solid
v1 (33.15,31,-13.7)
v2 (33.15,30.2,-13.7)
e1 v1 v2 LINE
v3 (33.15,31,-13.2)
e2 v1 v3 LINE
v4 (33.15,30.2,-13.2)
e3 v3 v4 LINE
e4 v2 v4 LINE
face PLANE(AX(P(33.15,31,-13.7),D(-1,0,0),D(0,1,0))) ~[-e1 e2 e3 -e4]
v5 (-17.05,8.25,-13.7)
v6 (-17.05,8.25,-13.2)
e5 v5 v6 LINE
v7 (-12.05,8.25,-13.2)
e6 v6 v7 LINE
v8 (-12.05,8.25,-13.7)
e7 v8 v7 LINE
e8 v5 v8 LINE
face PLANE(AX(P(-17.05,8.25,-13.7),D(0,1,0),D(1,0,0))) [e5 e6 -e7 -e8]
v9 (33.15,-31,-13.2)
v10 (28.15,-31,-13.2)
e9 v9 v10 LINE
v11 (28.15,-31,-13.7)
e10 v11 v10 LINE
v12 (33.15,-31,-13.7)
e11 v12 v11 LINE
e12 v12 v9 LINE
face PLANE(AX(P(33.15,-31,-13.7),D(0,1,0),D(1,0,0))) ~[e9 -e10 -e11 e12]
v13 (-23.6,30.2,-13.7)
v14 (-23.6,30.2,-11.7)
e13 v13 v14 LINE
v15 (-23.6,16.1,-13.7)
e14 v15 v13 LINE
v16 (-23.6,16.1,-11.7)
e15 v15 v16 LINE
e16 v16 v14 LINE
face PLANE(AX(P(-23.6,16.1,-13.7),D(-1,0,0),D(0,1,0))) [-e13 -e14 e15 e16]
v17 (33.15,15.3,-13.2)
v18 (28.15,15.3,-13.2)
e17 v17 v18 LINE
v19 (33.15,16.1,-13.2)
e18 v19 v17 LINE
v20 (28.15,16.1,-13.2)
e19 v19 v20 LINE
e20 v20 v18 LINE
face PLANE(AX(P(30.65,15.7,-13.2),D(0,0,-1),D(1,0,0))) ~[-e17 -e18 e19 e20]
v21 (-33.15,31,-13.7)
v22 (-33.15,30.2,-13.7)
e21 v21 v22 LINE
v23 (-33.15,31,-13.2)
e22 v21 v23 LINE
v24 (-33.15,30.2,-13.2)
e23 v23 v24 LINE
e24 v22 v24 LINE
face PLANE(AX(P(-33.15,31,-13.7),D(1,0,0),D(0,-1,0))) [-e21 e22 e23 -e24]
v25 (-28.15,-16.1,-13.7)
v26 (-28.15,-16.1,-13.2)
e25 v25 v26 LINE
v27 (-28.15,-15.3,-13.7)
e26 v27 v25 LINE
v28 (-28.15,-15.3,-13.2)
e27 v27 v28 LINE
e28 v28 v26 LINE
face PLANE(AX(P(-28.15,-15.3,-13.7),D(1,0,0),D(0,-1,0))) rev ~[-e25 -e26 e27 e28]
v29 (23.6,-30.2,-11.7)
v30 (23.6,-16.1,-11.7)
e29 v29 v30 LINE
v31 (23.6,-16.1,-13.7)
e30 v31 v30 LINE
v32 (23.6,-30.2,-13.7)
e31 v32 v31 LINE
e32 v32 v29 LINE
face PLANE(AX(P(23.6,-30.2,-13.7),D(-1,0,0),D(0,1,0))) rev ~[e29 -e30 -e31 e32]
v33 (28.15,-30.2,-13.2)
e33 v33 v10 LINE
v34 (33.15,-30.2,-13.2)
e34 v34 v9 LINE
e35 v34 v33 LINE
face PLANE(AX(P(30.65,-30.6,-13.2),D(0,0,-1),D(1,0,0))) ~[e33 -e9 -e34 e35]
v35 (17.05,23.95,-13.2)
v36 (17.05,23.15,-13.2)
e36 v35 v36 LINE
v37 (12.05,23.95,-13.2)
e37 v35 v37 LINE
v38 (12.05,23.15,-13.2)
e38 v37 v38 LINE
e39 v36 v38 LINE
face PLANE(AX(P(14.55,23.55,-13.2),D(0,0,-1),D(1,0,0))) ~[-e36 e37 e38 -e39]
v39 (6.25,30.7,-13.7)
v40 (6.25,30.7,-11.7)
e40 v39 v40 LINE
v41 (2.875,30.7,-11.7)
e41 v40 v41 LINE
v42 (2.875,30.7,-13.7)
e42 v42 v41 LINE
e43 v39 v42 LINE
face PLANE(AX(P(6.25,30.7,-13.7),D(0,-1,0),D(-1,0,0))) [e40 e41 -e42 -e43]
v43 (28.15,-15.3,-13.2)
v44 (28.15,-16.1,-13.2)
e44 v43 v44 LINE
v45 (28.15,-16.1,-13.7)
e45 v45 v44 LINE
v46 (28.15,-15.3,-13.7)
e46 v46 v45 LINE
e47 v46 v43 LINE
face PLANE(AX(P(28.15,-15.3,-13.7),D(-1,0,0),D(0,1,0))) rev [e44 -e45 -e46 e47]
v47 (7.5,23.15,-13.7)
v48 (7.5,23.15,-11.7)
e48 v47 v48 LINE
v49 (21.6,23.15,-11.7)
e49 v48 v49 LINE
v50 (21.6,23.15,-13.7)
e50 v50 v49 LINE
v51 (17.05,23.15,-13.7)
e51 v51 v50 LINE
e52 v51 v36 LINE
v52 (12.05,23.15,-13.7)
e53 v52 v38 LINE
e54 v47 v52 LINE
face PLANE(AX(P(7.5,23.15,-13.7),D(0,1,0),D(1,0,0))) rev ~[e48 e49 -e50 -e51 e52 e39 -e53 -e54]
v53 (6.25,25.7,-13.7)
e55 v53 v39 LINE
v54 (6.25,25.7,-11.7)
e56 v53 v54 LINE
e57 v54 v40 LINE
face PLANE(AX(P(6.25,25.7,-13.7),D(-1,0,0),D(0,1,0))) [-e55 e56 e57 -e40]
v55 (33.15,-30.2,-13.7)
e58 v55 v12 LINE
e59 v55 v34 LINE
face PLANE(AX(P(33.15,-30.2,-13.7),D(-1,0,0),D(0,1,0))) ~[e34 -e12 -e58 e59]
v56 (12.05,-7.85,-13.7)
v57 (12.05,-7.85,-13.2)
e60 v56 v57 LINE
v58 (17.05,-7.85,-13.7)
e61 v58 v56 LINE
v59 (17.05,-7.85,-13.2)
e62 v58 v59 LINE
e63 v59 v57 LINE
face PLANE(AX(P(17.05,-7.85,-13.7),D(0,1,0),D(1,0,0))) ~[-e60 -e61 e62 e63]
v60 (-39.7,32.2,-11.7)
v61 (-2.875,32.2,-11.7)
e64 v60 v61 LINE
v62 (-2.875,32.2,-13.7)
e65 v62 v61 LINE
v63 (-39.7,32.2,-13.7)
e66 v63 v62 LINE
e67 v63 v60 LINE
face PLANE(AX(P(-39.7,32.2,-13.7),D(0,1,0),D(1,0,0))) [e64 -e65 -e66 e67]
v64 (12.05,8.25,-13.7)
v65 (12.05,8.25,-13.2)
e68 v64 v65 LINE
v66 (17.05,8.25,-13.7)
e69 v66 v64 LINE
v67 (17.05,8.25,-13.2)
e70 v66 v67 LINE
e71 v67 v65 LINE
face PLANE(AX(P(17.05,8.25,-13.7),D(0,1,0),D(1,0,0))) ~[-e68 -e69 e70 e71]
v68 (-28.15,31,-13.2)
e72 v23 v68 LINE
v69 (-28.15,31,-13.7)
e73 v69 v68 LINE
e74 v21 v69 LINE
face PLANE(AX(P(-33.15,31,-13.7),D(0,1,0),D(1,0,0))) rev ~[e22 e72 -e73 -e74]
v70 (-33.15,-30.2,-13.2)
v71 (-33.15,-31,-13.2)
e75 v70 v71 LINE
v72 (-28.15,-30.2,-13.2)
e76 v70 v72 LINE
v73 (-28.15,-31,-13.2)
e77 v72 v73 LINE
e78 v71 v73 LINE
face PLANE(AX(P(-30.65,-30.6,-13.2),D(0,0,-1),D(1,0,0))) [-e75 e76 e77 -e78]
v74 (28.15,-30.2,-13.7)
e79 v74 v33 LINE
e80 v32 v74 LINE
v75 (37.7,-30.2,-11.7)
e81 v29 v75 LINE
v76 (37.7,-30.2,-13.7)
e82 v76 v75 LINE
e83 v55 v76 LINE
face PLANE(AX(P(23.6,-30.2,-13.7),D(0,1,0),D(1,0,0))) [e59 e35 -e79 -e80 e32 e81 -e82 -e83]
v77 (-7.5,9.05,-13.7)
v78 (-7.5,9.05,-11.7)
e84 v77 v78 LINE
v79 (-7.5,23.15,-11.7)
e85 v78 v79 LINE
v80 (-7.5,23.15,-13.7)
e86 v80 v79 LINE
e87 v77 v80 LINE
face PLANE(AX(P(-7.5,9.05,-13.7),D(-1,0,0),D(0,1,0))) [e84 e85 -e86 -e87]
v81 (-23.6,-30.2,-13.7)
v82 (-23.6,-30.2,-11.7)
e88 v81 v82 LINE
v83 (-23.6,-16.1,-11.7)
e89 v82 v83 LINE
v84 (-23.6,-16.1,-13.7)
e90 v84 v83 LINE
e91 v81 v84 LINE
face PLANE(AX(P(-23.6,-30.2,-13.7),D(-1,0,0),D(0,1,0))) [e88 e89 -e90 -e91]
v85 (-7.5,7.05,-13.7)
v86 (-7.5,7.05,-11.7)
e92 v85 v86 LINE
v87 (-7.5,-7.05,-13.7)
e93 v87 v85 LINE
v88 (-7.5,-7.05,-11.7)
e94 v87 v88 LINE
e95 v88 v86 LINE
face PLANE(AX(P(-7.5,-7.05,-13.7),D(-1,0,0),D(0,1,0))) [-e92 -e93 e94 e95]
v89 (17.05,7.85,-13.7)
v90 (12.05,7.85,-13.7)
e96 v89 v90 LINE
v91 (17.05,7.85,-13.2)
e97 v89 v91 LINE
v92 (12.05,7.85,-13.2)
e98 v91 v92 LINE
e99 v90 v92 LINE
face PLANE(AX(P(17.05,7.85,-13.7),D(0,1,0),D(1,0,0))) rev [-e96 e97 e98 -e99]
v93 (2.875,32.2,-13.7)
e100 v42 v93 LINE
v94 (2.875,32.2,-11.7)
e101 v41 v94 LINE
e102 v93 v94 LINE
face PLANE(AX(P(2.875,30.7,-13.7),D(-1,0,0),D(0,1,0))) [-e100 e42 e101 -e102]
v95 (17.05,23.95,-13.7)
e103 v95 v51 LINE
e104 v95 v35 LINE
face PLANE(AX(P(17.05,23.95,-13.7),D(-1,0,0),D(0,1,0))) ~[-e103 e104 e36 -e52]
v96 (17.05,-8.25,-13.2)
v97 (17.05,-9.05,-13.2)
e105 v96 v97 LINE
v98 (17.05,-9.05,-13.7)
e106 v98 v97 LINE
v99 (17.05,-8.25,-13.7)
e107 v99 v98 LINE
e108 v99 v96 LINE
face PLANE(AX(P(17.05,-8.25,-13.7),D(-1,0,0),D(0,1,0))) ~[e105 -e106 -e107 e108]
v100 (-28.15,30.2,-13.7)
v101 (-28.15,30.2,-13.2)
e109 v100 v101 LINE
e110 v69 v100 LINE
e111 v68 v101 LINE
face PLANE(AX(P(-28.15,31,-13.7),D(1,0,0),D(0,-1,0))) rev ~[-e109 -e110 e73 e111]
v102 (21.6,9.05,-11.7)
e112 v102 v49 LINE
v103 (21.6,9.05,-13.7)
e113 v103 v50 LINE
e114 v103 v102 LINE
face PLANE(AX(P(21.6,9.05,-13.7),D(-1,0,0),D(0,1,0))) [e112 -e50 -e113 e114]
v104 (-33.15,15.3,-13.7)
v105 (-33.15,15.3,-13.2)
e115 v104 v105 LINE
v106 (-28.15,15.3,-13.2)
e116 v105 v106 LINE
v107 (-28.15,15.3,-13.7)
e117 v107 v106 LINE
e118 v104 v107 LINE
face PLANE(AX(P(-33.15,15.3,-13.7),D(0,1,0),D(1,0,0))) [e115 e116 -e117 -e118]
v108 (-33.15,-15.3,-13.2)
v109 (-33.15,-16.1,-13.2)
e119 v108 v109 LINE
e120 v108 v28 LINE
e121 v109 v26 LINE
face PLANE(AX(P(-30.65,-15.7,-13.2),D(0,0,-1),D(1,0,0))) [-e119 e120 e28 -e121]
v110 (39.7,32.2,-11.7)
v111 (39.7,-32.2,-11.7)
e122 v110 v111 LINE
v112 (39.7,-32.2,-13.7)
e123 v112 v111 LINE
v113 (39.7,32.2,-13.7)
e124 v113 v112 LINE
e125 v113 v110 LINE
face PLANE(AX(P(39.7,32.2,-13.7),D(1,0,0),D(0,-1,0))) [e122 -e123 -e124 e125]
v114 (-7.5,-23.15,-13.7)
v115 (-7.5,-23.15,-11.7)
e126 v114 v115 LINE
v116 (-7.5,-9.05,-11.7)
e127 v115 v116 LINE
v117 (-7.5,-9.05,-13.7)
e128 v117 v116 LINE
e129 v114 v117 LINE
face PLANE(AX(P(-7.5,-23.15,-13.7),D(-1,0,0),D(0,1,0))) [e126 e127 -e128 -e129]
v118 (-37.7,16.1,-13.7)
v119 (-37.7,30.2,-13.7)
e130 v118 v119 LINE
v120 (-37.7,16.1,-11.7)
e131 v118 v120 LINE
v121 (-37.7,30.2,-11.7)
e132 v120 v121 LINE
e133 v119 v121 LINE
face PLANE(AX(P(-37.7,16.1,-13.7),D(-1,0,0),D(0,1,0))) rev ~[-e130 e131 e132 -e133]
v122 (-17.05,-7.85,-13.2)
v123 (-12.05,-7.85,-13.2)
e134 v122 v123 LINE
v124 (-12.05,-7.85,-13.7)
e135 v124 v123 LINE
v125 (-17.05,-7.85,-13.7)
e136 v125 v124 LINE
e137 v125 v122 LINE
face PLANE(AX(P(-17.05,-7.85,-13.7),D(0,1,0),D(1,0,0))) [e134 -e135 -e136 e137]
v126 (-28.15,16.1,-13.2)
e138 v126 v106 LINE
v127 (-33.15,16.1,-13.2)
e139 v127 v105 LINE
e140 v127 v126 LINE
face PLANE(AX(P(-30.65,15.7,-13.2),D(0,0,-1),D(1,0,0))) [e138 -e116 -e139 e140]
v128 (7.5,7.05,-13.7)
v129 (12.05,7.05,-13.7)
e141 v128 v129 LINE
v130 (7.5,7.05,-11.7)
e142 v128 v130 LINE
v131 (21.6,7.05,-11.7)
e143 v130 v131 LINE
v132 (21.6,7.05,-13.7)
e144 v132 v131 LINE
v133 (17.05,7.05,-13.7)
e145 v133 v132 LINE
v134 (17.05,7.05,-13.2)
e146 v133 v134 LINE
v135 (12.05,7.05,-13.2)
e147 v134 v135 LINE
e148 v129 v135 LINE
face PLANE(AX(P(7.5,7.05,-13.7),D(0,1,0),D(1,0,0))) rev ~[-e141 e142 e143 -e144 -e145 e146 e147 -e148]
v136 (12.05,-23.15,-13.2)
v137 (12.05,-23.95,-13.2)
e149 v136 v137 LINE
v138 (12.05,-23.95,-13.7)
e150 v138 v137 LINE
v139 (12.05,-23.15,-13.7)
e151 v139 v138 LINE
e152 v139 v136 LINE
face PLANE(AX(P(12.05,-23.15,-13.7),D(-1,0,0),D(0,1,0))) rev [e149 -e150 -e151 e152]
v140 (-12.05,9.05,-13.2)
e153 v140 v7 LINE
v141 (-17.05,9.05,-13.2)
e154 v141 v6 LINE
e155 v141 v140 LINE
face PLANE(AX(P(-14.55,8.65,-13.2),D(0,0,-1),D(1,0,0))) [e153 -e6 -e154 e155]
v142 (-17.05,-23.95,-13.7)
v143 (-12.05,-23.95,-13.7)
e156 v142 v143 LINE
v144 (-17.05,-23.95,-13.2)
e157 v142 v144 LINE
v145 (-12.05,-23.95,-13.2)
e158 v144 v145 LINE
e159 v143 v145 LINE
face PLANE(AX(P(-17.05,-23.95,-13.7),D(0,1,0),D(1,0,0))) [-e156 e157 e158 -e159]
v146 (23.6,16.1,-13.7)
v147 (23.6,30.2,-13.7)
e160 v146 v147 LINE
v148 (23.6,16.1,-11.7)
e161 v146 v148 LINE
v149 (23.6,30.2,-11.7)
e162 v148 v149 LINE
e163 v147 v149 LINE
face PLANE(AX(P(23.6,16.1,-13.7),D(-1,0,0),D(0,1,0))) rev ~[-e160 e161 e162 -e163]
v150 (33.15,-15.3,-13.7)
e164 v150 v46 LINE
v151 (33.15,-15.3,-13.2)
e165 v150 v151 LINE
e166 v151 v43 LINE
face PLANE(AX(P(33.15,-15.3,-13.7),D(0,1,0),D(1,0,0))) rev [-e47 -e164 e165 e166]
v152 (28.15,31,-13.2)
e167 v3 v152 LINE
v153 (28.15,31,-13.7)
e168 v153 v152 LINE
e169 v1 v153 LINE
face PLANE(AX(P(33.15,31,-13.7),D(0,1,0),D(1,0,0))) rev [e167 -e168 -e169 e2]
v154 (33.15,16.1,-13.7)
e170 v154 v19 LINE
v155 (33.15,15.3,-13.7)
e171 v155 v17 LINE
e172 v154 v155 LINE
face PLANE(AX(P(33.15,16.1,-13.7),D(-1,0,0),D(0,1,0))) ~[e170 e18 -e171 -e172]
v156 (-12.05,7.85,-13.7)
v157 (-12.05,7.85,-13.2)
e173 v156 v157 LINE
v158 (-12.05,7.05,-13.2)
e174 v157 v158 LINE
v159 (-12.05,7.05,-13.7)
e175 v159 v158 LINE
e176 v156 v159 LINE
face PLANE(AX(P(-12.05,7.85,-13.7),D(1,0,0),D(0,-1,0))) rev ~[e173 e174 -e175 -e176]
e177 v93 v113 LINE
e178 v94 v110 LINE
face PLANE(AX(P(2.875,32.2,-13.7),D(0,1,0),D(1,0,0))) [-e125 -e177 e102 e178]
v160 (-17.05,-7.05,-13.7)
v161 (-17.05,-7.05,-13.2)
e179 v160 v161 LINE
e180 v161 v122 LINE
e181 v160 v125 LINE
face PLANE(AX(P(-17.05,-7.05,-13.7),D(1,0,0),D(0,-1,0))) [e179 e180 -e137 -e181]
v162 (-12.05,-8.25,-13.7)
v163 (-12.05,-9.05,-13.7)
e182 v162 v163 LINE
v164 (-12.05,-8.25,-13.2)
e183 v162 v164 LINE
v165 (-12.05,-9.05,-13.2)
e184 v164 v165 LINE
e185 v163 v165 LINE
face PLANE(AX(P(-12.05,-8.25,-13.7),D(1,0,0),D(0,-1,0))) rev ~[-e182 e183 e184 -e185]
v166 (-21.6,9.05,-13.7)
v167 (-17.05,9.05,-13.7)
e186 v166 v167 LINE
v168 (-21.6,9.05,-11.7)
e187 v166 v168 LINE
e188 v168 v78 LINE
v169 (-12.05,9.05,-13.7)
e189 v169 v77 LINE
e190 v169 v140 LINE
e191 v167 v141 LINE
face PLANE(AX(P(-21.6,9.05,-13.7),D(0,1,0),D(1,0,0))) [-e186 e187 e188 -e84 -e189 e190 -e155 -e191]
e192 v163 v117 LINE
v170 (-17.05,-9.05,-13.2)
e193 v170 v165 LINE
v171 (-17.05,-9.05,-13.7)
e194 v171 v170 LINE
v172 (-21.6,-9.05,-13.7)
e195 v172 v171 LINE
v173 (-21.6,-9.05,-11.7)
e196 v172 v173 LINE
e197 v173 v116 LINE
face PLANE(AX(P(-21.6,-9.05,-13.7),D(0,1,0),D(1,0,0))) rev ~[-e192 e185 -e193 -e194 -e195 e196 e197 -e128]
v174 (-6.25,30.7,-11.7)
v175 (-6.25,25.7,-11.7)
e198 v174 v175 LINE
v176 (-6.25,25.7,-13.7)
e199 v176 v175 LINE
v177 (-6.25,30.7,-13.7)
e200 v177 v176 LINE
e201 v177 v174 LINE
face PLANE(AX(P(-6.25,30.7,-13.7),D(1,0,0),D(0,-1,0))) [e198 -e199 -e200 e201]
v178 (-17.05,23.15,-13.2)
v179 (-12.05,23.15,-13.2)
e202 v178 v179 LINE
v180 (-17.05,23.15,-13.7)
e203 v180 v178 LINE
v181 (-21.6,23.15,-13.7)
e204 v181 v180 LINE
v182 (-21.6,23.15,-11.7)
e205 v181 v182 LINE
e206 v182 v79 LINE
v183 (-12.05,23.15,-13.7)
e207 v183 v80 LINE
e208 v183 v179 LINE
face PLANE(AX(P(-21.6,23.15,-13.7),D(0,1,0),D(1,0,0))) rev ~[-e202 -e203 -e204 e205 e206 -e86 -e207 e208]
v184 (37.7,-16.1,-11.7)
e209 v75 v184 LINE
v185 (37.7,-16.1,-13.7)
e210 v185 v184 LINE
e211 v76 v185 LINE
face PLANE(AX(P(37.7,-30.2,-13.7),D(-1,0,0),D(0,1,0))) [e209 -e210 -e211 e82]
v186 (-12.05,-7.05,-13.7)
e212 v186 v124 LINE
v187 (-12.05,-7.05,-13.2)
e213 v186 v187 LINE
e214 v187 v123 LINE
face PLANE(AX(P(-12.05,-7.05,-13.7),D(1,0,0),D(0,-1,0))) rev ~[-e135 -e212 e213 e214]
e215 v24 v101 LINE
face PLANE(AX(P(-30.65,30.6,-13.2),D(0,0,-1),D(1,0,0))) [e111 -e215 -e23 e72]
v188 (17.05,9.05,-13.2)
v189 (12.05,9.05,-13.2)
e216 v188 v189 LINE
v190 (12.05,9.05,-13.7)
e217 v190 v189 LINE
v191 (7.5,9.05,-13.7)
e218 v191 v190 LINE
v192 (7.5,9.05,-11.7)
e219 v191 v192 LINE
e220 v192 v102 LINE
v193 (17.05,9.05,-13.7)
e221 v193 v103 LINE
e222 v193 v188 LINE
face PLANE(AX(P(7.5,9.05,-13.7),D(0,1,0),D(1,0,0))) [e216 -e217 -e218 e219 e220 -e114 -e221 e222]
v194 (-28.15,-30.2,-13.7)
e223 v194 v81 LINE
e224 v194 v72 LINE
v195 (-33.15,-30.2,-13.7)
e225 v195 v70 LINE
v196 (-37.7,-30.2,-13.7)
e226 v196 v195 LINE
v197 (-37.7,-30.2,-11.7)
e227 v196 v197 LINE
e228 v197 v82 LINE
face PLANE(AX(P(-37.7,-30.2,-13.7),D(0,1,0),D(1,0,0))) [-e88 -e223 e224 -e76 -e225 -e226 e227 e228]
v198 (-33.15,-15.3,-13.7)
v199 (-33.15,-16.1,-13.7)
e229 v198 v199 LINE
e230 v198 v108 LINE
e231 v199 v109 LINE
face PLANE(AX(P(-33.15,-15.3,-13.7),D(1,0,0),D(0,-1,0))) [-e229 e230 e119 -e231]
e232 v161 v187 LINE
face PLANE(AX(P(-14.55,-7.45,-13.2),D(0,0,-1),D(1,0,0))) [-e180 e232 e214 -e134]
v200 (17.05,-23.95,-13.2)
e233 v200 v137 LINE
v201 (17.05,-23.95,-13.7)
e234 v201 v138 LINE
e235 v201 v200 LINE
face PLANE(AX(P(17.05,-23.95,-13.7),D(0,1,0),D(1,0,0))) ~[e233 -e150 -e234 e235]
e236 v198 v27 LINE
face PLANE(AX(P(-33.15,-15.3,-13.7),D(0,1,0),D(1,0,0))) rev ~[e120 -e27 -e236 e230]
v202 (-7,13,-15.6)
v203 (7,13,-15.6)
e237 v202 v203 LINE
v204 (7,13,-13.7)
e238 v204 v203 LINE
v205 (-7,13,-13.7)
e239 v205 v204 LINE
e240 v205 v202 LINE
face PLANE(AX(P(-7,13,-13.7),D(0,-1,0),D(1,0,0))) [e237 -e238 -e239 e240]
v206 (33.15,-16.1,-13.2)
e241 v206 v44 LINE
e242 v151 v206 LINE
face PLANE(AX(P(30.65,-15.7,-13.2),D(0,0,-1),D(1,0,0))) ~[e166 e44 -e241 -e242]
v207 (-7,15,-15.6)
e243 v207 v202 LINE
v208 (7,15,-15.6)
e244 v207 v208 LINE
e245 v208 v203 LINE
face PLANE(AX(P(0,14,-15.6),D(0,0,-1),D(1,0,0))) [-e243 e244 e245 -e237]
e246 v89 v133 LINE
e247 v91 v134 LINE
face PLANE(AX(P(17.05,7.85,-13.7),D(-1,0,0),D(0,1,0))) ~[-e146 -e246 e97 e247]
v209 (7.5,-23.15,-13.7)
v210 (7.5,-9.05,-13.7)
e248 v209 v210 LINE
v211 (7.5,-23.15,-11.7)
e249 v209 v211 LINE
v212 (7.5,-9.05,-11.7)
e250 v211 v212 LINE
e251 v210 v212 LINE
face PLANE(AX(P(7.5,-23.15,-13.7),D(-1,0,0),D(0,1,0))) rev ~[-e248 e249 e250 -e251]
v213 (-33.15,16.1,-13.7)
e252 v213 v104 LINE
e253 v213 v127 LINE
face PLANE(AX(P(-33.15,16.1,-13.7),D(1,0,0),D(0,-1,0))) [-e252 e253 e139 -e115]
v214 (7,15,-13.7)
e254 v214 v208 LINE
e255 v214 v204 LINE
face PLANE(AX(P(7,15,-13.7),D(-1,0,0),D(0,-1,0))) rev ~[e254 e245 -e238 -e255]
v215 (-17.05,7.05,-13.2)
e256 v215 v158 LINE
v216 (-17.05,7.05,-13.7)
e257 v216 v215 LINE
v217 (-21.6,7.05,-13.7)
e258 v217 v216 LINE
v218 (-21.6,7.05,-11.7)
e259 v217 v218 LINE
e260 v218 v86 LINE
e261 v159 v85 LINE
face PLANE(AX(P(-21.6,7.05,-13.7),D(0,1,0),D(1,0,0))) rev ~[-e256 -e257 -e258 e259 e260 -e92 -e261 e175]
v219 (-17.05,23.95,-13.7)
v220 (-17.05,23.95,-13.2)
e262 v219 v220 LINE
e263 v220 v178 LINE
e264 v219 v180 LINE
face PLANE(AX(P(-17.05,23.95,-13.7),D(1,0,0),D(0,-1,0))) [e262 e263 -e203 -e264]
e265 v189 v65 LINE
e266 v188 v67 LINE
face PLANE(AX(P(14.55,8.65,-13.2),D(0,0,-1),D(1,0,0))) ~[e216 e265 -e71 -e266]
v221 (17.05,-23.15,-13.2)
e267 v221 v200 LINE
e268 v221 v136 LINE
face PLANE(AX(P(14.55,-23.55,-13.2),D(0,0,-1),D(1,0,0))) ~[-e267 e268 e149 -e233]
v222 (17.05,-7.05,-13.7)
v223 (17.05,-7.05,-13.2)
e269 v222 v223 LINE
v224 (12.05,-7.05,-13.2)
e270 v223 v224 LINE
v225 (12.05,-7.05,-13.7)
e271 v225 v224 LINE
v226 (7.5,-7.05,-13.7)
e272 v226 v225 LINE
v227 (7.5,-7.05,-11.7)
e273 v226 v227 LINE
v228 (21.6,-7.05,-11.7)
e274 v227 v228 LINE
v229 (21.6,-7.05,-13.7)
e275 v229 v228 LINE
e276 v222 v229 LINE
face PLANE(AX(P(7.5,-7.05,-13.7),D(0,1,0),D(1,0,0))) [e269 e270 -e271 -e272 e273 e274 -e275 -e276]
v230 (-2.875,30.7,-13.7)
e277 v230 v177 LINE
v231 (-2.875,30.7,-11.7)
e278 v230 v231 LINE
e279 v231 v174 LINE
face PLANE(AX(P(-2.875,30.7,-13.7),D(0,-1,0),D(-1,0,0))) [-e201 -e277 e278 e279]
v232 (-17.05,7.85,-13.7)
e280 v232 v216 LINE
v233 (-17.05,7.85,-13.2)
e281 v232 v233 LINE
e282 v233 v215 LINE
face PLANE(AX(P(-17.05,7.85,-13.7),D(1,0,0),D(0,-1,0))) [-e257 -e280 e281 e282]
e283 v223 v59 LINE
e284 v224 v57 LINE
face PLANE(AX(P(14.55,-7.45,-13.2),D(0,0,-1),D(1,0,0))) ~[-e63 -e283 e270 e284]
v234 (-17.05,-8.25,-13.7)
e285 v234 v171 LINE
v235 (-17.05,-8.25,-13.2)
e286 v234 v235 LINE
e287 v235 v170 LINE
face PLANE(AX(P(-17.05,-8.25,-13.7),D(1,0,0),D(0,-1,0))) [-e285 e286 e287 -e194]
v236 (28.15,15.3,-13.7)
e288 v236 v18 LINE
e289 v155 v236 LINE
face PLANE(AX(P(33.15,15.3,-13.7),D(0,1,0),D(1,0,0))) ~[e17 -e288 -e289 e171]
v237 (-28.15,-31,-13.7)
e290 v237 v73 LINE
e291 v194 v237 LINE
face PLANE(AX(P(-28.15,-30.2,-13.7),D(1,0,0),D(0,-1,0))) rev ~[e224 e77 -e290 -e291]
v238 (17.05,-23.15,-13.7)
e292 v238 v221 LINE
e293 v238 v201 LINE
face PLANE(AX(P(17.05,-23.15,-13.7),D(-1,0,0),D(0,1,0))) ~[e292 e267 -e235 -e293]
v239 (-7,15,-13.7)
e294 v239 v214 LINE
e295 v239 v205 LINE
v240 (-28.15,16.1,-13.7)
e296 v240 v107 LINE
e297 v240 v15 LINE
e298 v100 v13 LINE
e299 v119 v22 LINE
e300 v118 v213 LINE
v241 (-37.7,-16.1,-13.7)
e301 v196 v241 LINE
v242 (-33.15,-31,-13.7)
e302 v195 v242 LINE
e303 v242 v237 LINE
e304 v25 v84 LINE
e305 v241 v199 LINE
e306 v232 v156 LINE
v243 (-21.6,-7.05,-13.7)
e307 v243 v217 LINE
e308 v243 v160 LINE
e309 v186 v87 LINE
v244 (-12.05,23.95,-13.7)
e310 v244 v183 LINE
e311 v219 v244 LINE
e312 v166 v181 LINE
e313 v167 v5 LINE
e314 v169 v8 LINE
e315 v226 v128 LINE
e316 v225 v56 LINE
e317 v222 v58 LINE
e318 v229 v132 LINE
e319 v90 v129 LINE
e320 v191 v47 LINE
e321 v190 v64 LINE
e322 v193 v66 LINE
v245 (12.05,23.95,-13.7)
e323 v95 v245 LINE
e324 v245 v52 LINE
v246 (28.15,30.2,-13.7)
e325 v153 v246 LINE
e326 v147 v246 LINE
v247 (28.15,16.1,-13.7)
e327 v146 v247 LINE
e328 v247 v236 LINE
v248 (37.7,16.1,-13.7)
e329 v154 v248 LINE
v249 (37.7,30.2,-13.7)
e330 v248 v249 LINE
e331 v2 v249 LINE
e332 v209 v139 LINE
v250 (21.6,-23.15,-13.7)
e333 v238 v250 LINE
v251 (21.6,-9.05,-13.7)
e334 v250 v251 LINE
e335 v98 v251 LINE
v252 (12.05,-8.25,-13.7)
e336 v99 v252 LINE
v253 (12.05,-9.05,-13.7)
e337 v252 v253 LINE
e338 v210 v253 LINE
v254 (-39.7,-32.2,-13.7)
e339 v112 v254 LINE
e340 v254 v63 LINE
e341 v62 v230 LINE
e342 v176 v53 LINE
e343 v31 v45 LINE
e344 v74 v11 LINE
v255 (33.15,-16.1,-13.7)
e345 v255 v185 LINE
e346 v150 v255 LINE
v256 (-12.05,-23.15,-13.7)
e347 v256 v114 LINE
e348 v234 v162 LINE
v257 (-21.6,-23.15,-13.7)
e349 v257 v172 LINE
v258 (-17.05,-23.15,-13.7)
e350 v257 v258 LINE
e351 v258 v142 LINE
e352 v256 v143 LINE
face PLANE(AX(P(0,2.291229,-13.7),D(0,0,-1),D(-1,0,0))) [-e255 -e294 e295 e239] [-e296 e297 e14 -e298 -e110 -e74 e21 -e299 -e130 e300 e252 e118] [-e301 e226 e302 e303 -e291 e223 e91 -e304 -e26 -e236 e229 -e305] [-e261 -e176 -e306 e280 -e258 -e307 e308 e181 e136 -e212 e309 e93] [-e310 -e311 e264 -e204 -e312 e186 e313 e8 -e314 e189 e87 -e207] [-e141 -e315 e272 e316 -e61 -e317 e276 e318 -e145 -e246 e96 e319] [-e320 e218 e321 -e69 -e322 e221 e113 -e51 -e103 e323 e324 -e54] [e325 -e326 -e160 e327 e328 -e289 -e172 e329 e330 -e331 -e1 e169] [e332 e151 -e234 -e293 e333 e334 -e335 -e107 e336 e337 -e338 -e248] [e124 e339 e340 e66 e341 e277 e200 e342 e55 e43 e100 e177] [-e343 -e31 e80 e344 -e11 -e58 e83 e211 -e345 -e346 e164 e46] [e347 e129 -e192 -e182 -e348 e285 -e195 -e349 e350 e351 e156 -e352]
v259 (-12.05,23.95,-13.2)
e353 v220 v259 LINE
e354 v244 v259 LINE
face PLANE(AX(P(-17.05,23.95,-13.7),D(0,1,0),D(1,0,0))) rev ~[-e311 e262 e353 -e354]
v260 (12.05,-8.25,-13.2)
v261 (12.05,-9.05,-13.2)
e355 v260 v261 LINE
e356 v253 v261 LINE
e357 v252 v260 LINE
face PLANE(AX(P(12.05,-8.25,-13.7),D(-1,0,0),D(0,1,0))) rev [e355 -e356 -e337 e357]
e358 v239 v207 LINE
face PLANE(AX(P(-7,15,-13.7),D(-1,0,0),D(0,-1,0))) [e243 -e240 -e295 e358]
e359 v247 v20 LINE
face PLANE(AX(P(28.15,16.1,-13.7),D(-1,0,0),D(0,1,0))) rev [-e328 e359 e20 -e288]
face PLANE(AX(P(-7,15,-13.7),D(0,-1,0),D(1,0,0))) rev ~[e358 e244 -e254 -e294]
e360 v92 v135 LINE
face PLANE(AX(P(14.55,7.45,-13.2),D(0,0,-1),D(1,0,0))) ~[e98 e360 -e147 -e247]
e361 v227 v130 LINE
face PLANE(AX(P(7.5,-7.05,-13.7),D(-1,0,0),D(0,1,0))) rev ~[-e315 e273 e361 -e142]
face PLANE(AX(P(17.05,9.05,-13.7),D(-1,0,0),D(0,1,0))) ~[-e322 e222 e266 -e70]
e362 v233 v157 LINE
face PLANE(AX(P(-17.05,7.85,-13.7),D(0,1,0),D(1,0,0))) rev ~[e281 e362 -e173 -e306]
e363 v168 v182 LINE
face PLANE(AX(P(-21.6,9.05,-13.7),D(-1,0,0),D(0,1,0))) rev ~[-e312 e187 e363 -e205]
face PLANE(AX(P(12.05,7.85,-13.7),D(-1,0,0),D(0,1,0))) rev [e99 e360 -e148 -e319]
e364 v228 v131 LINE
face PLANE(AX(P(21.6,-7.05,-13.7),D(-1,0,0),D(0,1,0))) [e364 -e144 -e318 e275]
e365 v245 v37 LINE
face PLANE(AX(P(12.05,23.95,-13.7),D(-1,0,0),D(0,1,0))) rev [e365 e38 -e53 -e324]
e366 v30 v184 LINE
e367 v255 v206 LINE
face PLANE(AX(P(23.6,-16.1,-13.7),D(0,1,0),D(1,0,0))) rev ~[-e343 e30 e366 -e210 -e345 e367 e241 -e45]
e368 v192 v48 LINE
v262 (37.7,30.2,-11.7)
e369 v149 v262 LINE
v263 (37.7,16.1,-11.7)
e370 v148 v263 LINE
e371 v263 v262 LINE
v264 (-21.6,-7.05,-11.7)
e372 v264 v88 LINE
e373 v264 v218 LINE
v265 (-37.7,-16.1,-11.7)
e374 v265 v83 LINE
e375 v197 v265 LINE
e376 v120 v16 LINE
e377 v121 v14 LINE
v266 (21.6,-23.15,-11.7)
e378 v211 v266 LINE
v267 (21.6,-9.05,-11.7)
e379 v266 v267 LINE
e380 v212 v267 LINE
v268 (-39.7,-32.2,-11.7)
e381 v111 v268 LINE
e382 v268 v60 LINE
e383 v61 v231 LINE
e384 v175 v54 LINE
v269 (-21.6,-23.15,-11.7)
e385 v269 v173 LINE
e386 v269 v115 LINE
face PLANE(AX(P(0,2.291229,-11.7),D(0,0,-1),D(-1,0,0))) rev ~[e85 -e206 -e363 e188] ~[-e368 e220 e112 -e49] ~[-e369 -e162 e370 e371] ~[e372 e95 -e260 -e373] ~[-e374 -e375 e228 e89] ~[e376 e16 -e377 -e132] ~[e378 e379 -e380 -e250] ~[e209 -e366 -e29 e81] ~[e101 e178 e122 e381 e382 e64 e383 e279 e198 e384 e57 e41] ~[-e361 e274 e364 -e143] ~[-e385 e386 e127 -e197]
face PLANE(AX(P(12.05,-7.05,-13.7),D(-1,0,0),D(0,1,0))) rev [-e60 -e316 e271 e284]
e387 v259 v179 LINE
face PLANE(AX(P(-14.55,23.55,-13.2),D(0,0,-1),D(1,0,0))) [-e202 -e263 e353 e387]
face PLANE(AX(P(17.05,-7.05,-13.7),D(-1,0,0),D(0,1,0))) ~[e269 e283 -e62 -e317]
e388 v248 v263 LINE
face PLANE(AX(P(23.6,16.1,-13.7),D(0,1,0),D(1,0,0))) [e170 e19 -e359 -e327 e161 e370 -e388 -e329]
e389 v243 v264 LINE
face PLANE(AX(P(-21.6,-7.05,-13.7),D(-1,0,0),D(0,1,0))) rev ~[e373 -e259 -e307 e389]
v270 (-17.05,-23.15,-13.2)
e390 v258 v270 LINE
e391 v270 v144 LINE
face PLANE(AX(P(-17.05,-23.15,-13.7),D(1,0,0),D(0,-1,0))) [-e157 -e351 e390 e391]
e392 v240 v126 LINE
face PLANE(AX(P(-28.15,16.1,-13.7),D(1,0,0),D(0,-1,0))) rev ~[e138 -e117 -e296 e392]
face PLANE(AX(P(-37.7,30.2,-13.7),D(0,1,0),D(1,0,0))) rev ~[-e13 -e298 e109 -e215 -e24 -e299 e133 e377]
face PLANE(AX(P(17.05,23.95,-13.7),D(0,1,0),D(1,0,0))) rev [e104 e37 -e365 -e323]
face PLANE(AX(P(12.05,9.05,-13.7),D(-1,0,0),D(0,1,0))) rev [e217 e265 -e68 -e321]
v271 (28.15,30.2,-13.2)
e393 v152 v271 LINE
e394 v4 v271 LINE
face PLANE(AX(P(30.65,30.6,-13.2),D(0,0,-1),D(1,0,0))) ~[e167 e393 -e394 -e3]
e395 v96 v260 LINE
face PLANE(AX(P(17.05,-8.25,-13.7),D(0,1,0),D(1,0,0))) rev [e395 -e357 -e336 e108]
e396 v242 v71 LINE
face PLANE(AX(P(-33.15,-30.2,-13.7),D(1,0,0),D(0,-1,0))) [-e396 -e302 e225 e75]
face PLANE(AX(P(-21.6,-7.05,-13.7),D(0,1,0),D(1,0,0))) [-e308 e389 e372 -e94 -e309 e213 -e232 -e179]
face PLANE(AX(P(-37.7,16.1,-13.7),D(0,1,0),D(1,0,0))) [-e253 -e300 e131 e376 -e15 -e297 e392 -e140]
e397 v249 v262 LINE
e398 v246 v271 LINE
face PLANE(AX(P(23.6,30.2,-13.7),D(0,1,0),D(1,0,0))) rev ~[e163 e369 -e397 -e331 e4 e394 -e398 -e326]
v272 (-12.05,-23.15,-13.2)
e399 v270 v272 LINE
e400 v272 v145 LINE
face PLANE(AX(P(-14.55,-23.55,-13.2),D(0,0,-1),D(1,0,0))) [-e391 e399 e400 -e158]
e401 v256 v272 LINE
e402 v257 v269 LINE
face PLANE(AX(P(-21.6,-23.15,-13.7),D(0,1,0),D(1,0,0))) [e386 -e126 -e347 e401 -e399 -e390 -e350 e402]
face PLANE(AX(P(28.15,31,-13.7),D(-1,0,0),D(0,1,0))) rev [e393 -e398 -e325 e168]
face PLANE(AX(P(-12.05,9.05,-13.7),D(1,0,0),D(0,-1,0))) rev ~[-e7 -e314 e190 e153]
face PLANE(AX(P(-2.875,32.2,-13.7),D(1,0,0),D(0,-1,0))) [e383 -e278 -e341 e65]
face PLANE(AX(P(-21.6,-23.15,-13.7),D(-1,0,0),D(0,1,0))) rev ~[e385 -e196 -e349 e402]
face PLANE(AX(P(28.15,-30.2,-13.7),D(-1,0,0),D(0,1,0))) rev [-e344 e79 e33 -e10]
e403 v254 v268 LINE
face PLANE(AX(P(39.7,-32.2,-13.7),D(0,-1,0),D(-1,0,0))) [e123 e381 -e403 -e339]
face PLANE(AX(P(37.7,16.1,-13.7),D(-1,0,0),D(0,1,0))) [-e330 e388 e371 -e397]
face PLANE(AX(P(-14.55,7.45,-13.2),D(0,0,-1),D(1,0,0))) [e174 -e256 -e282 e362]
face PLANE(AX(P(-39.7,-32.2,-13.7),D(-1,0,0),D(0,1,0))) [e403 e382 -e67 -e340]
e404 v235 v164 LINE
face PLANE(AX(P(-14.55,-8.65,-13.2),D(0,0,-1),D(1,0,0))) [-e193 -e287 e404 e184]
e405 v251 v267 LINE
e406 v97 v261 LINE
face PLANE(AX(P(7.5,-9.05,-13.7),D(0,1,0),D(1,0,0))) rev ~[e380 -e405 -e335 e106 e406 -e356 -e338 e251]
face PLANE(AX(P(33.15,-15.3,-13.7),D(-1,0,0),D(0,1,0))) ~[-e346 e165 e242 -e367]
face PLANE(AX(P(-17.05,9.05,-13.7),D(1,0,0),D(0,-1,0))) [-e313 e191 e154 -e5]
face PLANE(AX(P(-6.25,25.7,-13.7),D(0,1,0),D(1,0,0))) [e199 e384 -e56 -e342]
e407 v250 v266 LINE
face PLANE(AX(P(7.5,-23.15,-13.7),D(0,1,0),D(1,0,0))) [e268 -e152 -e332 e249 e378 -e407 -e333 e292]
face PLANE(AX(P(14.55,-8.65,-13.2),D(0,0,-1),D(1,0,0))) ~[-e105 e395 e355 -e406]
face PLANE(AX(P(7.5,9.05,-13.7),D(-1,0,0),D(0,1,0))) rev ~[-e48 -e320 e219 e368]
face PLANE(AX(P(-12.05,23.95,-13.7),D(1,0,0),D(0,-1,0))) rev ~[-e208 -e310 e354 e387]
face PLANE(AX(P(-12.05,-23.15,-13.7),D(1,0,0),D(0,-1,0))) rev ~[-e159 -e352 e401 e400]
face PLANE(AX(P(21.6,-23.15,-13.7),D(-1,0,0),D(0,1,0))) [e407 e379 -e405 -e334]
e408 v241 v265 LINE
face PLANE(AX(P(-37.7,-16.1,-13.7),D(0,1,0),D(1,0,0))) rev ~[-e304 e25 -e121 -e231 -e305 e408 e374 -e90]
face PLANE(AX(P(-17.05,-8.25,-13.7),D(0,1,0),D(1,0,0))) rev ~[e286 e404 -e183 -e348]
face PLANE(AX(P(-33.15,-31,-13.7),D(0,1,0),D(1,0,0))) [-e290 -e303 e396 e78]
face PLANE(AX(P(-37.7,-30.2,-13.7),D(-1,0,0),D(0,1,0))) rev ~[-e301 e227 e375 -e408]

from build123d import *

# Parameters (mm, degrees)
SKETCH020_W     = 14.1
SKETCH020_H     = 14.1
PAD014_DEPTH    = 2
SKETCH_W        = 14
SKETCH_H        = 2
PAD_DEPTH       = 1.9
SKETCH028_W     = 5
SKETCH028_H     = 0.8
POCKET004_DEPTH = 0.5


with BuildPart() as part:
    # Sketch020 → Pad014 (new body)
    with BuildSketch(Plane.XY):
        Polygon((39.7, 32.2), (39.7, -32.2), (-39.7, -32.2), (-39.7, 32.2), (-2.875, 32.2), (-2.875, 30.7), (-6.25, 30.7), (-6.25, 25.7), (6.25, 25.7), (6.25, 30.7), (2.875, 30.7), (2.875, 32.2), align=None)
        with Locations((-14.55, 16.1)):
            Rectangle(SKETCH020_W, SKETCH020_H, mode=Mode.SUBTRACT)
        with Locations((-14.55, 0)):
            Rectangle(SKETCH020_W, SKETCH020_H, mode=Mode.SUBTRACT)
        with Locations((-14.55, -16.1)):
            Rectangle(SKETCH020_W, SKETCH020_H, mode=Mode.SUBTRACT)
        with Locations((-30.65, -23.15)):
            Rectangle(SKETCH020_W, SKETCH020_H, mode=Mode.SUBTRACT)
        with Locations((-30.65, 23.15)):
            Rectangle(SKETCH020_W, SKETCH020_H, mode=Mode.SUBTRACT)
        with Locations((14.55, 16.1)):
            Rectangle(SKETCH020_W, SKETCH020_H, mode=Mode.SUBTRACT)
        with Locations((14.55, 0)):
            Rectangle(SKETCH020_W, SKETCH020_H, mode=Mode.SUBTRACT)
        with Locations((14.55, -16.1)):
            Rectangle(SKETCH020_W, SKETCH020_H, mode=Mode.SUBTRACT)
        with Locations((30.65, -23.15)):
            Rectangle(SKETCH020_W, SKETCH020_H, mode=Mode.SUBTRACT)
        with Locations((30.65, 23.15)):
            Rectangle(SKETCH020_W, SKETCH020_H, mode=Mode.SUBTRACT)
    extrude(amount=PAD014_DEPTH)

    # Sketch (on Face53 of Pad014) → Pad (join)
    with BuildSketch(Plane(origin=(0, 0, 0), x_dir=(1, 0, 0), z_dir=(0, 0, -1))):
        with Locations((0, -14)):
            Rectangle(SKETCH_W, SKETCH_H)
    extrude(amount=PAD_DEPTH)

    # Sketch028 (on Face4 of Pad) → Pocket004 (cut)
    with BuildSketch(Plane(origin=(0, 0, 0), x_dir=(1, 0, 0), z_dir=(0, 0, -1))):
        with Locations((-14.55, 7.45)):
            Rectangle(SKETCH028_W, SKETCH028_H)
        with Locations((-14.55, 8.65)):
            Rectangle(SKETCH028_W, SKETCH028_H)
        with Locations((-14.55, 23.55)):
            Rectangle(SKETCH028_W, SKETCH028_H)
        with Locations((-30.65, 30.6)):
            Rectangle(SKETCH028_W, SKETCH028_H)
        with Locations((-30.65, 15.7)):
            Rectangle(SKETCH028_W, SKETCH028_H)
        with Locations((-14.55, -7.45)):
            Rectangle(SKETCH028_W, SKETCH028_H)
        with Locations((-14.55, -8.65)):
            Rectangle(SKETCH028_W, SKETCH028_H)
        with Locations((-14.55, -23.55)):
            Rectangle(SKETCH028_W, SKETCH028_H)
        with Locations((-30.65, -30.6)):
            Rectangle(SKETCH028_W, SKETCH028_H)
        with Locations((-30.65, -15.7)):
            Rectangle(SKETCH028_W, SKETCH028_H)
    pocket004 = extrude(amount=-POCKET004_DEPTH, mode=Mode.SUBTRACT)

    # Mirrored: Pocket004 across Sketch028 V_Axis
    add(pocket004.mirror(Plane(origin=(0, 0, 0), x_dir=(0, 0, -1), z_dir=(1, 0, 0))), mode=Mode.SUBTRACT)


with BuildPart() as part_1:
    # Body005 placement: moved
    add(part.part.moved(Location((0, 0, -13.7))))


solid = part_1.part
